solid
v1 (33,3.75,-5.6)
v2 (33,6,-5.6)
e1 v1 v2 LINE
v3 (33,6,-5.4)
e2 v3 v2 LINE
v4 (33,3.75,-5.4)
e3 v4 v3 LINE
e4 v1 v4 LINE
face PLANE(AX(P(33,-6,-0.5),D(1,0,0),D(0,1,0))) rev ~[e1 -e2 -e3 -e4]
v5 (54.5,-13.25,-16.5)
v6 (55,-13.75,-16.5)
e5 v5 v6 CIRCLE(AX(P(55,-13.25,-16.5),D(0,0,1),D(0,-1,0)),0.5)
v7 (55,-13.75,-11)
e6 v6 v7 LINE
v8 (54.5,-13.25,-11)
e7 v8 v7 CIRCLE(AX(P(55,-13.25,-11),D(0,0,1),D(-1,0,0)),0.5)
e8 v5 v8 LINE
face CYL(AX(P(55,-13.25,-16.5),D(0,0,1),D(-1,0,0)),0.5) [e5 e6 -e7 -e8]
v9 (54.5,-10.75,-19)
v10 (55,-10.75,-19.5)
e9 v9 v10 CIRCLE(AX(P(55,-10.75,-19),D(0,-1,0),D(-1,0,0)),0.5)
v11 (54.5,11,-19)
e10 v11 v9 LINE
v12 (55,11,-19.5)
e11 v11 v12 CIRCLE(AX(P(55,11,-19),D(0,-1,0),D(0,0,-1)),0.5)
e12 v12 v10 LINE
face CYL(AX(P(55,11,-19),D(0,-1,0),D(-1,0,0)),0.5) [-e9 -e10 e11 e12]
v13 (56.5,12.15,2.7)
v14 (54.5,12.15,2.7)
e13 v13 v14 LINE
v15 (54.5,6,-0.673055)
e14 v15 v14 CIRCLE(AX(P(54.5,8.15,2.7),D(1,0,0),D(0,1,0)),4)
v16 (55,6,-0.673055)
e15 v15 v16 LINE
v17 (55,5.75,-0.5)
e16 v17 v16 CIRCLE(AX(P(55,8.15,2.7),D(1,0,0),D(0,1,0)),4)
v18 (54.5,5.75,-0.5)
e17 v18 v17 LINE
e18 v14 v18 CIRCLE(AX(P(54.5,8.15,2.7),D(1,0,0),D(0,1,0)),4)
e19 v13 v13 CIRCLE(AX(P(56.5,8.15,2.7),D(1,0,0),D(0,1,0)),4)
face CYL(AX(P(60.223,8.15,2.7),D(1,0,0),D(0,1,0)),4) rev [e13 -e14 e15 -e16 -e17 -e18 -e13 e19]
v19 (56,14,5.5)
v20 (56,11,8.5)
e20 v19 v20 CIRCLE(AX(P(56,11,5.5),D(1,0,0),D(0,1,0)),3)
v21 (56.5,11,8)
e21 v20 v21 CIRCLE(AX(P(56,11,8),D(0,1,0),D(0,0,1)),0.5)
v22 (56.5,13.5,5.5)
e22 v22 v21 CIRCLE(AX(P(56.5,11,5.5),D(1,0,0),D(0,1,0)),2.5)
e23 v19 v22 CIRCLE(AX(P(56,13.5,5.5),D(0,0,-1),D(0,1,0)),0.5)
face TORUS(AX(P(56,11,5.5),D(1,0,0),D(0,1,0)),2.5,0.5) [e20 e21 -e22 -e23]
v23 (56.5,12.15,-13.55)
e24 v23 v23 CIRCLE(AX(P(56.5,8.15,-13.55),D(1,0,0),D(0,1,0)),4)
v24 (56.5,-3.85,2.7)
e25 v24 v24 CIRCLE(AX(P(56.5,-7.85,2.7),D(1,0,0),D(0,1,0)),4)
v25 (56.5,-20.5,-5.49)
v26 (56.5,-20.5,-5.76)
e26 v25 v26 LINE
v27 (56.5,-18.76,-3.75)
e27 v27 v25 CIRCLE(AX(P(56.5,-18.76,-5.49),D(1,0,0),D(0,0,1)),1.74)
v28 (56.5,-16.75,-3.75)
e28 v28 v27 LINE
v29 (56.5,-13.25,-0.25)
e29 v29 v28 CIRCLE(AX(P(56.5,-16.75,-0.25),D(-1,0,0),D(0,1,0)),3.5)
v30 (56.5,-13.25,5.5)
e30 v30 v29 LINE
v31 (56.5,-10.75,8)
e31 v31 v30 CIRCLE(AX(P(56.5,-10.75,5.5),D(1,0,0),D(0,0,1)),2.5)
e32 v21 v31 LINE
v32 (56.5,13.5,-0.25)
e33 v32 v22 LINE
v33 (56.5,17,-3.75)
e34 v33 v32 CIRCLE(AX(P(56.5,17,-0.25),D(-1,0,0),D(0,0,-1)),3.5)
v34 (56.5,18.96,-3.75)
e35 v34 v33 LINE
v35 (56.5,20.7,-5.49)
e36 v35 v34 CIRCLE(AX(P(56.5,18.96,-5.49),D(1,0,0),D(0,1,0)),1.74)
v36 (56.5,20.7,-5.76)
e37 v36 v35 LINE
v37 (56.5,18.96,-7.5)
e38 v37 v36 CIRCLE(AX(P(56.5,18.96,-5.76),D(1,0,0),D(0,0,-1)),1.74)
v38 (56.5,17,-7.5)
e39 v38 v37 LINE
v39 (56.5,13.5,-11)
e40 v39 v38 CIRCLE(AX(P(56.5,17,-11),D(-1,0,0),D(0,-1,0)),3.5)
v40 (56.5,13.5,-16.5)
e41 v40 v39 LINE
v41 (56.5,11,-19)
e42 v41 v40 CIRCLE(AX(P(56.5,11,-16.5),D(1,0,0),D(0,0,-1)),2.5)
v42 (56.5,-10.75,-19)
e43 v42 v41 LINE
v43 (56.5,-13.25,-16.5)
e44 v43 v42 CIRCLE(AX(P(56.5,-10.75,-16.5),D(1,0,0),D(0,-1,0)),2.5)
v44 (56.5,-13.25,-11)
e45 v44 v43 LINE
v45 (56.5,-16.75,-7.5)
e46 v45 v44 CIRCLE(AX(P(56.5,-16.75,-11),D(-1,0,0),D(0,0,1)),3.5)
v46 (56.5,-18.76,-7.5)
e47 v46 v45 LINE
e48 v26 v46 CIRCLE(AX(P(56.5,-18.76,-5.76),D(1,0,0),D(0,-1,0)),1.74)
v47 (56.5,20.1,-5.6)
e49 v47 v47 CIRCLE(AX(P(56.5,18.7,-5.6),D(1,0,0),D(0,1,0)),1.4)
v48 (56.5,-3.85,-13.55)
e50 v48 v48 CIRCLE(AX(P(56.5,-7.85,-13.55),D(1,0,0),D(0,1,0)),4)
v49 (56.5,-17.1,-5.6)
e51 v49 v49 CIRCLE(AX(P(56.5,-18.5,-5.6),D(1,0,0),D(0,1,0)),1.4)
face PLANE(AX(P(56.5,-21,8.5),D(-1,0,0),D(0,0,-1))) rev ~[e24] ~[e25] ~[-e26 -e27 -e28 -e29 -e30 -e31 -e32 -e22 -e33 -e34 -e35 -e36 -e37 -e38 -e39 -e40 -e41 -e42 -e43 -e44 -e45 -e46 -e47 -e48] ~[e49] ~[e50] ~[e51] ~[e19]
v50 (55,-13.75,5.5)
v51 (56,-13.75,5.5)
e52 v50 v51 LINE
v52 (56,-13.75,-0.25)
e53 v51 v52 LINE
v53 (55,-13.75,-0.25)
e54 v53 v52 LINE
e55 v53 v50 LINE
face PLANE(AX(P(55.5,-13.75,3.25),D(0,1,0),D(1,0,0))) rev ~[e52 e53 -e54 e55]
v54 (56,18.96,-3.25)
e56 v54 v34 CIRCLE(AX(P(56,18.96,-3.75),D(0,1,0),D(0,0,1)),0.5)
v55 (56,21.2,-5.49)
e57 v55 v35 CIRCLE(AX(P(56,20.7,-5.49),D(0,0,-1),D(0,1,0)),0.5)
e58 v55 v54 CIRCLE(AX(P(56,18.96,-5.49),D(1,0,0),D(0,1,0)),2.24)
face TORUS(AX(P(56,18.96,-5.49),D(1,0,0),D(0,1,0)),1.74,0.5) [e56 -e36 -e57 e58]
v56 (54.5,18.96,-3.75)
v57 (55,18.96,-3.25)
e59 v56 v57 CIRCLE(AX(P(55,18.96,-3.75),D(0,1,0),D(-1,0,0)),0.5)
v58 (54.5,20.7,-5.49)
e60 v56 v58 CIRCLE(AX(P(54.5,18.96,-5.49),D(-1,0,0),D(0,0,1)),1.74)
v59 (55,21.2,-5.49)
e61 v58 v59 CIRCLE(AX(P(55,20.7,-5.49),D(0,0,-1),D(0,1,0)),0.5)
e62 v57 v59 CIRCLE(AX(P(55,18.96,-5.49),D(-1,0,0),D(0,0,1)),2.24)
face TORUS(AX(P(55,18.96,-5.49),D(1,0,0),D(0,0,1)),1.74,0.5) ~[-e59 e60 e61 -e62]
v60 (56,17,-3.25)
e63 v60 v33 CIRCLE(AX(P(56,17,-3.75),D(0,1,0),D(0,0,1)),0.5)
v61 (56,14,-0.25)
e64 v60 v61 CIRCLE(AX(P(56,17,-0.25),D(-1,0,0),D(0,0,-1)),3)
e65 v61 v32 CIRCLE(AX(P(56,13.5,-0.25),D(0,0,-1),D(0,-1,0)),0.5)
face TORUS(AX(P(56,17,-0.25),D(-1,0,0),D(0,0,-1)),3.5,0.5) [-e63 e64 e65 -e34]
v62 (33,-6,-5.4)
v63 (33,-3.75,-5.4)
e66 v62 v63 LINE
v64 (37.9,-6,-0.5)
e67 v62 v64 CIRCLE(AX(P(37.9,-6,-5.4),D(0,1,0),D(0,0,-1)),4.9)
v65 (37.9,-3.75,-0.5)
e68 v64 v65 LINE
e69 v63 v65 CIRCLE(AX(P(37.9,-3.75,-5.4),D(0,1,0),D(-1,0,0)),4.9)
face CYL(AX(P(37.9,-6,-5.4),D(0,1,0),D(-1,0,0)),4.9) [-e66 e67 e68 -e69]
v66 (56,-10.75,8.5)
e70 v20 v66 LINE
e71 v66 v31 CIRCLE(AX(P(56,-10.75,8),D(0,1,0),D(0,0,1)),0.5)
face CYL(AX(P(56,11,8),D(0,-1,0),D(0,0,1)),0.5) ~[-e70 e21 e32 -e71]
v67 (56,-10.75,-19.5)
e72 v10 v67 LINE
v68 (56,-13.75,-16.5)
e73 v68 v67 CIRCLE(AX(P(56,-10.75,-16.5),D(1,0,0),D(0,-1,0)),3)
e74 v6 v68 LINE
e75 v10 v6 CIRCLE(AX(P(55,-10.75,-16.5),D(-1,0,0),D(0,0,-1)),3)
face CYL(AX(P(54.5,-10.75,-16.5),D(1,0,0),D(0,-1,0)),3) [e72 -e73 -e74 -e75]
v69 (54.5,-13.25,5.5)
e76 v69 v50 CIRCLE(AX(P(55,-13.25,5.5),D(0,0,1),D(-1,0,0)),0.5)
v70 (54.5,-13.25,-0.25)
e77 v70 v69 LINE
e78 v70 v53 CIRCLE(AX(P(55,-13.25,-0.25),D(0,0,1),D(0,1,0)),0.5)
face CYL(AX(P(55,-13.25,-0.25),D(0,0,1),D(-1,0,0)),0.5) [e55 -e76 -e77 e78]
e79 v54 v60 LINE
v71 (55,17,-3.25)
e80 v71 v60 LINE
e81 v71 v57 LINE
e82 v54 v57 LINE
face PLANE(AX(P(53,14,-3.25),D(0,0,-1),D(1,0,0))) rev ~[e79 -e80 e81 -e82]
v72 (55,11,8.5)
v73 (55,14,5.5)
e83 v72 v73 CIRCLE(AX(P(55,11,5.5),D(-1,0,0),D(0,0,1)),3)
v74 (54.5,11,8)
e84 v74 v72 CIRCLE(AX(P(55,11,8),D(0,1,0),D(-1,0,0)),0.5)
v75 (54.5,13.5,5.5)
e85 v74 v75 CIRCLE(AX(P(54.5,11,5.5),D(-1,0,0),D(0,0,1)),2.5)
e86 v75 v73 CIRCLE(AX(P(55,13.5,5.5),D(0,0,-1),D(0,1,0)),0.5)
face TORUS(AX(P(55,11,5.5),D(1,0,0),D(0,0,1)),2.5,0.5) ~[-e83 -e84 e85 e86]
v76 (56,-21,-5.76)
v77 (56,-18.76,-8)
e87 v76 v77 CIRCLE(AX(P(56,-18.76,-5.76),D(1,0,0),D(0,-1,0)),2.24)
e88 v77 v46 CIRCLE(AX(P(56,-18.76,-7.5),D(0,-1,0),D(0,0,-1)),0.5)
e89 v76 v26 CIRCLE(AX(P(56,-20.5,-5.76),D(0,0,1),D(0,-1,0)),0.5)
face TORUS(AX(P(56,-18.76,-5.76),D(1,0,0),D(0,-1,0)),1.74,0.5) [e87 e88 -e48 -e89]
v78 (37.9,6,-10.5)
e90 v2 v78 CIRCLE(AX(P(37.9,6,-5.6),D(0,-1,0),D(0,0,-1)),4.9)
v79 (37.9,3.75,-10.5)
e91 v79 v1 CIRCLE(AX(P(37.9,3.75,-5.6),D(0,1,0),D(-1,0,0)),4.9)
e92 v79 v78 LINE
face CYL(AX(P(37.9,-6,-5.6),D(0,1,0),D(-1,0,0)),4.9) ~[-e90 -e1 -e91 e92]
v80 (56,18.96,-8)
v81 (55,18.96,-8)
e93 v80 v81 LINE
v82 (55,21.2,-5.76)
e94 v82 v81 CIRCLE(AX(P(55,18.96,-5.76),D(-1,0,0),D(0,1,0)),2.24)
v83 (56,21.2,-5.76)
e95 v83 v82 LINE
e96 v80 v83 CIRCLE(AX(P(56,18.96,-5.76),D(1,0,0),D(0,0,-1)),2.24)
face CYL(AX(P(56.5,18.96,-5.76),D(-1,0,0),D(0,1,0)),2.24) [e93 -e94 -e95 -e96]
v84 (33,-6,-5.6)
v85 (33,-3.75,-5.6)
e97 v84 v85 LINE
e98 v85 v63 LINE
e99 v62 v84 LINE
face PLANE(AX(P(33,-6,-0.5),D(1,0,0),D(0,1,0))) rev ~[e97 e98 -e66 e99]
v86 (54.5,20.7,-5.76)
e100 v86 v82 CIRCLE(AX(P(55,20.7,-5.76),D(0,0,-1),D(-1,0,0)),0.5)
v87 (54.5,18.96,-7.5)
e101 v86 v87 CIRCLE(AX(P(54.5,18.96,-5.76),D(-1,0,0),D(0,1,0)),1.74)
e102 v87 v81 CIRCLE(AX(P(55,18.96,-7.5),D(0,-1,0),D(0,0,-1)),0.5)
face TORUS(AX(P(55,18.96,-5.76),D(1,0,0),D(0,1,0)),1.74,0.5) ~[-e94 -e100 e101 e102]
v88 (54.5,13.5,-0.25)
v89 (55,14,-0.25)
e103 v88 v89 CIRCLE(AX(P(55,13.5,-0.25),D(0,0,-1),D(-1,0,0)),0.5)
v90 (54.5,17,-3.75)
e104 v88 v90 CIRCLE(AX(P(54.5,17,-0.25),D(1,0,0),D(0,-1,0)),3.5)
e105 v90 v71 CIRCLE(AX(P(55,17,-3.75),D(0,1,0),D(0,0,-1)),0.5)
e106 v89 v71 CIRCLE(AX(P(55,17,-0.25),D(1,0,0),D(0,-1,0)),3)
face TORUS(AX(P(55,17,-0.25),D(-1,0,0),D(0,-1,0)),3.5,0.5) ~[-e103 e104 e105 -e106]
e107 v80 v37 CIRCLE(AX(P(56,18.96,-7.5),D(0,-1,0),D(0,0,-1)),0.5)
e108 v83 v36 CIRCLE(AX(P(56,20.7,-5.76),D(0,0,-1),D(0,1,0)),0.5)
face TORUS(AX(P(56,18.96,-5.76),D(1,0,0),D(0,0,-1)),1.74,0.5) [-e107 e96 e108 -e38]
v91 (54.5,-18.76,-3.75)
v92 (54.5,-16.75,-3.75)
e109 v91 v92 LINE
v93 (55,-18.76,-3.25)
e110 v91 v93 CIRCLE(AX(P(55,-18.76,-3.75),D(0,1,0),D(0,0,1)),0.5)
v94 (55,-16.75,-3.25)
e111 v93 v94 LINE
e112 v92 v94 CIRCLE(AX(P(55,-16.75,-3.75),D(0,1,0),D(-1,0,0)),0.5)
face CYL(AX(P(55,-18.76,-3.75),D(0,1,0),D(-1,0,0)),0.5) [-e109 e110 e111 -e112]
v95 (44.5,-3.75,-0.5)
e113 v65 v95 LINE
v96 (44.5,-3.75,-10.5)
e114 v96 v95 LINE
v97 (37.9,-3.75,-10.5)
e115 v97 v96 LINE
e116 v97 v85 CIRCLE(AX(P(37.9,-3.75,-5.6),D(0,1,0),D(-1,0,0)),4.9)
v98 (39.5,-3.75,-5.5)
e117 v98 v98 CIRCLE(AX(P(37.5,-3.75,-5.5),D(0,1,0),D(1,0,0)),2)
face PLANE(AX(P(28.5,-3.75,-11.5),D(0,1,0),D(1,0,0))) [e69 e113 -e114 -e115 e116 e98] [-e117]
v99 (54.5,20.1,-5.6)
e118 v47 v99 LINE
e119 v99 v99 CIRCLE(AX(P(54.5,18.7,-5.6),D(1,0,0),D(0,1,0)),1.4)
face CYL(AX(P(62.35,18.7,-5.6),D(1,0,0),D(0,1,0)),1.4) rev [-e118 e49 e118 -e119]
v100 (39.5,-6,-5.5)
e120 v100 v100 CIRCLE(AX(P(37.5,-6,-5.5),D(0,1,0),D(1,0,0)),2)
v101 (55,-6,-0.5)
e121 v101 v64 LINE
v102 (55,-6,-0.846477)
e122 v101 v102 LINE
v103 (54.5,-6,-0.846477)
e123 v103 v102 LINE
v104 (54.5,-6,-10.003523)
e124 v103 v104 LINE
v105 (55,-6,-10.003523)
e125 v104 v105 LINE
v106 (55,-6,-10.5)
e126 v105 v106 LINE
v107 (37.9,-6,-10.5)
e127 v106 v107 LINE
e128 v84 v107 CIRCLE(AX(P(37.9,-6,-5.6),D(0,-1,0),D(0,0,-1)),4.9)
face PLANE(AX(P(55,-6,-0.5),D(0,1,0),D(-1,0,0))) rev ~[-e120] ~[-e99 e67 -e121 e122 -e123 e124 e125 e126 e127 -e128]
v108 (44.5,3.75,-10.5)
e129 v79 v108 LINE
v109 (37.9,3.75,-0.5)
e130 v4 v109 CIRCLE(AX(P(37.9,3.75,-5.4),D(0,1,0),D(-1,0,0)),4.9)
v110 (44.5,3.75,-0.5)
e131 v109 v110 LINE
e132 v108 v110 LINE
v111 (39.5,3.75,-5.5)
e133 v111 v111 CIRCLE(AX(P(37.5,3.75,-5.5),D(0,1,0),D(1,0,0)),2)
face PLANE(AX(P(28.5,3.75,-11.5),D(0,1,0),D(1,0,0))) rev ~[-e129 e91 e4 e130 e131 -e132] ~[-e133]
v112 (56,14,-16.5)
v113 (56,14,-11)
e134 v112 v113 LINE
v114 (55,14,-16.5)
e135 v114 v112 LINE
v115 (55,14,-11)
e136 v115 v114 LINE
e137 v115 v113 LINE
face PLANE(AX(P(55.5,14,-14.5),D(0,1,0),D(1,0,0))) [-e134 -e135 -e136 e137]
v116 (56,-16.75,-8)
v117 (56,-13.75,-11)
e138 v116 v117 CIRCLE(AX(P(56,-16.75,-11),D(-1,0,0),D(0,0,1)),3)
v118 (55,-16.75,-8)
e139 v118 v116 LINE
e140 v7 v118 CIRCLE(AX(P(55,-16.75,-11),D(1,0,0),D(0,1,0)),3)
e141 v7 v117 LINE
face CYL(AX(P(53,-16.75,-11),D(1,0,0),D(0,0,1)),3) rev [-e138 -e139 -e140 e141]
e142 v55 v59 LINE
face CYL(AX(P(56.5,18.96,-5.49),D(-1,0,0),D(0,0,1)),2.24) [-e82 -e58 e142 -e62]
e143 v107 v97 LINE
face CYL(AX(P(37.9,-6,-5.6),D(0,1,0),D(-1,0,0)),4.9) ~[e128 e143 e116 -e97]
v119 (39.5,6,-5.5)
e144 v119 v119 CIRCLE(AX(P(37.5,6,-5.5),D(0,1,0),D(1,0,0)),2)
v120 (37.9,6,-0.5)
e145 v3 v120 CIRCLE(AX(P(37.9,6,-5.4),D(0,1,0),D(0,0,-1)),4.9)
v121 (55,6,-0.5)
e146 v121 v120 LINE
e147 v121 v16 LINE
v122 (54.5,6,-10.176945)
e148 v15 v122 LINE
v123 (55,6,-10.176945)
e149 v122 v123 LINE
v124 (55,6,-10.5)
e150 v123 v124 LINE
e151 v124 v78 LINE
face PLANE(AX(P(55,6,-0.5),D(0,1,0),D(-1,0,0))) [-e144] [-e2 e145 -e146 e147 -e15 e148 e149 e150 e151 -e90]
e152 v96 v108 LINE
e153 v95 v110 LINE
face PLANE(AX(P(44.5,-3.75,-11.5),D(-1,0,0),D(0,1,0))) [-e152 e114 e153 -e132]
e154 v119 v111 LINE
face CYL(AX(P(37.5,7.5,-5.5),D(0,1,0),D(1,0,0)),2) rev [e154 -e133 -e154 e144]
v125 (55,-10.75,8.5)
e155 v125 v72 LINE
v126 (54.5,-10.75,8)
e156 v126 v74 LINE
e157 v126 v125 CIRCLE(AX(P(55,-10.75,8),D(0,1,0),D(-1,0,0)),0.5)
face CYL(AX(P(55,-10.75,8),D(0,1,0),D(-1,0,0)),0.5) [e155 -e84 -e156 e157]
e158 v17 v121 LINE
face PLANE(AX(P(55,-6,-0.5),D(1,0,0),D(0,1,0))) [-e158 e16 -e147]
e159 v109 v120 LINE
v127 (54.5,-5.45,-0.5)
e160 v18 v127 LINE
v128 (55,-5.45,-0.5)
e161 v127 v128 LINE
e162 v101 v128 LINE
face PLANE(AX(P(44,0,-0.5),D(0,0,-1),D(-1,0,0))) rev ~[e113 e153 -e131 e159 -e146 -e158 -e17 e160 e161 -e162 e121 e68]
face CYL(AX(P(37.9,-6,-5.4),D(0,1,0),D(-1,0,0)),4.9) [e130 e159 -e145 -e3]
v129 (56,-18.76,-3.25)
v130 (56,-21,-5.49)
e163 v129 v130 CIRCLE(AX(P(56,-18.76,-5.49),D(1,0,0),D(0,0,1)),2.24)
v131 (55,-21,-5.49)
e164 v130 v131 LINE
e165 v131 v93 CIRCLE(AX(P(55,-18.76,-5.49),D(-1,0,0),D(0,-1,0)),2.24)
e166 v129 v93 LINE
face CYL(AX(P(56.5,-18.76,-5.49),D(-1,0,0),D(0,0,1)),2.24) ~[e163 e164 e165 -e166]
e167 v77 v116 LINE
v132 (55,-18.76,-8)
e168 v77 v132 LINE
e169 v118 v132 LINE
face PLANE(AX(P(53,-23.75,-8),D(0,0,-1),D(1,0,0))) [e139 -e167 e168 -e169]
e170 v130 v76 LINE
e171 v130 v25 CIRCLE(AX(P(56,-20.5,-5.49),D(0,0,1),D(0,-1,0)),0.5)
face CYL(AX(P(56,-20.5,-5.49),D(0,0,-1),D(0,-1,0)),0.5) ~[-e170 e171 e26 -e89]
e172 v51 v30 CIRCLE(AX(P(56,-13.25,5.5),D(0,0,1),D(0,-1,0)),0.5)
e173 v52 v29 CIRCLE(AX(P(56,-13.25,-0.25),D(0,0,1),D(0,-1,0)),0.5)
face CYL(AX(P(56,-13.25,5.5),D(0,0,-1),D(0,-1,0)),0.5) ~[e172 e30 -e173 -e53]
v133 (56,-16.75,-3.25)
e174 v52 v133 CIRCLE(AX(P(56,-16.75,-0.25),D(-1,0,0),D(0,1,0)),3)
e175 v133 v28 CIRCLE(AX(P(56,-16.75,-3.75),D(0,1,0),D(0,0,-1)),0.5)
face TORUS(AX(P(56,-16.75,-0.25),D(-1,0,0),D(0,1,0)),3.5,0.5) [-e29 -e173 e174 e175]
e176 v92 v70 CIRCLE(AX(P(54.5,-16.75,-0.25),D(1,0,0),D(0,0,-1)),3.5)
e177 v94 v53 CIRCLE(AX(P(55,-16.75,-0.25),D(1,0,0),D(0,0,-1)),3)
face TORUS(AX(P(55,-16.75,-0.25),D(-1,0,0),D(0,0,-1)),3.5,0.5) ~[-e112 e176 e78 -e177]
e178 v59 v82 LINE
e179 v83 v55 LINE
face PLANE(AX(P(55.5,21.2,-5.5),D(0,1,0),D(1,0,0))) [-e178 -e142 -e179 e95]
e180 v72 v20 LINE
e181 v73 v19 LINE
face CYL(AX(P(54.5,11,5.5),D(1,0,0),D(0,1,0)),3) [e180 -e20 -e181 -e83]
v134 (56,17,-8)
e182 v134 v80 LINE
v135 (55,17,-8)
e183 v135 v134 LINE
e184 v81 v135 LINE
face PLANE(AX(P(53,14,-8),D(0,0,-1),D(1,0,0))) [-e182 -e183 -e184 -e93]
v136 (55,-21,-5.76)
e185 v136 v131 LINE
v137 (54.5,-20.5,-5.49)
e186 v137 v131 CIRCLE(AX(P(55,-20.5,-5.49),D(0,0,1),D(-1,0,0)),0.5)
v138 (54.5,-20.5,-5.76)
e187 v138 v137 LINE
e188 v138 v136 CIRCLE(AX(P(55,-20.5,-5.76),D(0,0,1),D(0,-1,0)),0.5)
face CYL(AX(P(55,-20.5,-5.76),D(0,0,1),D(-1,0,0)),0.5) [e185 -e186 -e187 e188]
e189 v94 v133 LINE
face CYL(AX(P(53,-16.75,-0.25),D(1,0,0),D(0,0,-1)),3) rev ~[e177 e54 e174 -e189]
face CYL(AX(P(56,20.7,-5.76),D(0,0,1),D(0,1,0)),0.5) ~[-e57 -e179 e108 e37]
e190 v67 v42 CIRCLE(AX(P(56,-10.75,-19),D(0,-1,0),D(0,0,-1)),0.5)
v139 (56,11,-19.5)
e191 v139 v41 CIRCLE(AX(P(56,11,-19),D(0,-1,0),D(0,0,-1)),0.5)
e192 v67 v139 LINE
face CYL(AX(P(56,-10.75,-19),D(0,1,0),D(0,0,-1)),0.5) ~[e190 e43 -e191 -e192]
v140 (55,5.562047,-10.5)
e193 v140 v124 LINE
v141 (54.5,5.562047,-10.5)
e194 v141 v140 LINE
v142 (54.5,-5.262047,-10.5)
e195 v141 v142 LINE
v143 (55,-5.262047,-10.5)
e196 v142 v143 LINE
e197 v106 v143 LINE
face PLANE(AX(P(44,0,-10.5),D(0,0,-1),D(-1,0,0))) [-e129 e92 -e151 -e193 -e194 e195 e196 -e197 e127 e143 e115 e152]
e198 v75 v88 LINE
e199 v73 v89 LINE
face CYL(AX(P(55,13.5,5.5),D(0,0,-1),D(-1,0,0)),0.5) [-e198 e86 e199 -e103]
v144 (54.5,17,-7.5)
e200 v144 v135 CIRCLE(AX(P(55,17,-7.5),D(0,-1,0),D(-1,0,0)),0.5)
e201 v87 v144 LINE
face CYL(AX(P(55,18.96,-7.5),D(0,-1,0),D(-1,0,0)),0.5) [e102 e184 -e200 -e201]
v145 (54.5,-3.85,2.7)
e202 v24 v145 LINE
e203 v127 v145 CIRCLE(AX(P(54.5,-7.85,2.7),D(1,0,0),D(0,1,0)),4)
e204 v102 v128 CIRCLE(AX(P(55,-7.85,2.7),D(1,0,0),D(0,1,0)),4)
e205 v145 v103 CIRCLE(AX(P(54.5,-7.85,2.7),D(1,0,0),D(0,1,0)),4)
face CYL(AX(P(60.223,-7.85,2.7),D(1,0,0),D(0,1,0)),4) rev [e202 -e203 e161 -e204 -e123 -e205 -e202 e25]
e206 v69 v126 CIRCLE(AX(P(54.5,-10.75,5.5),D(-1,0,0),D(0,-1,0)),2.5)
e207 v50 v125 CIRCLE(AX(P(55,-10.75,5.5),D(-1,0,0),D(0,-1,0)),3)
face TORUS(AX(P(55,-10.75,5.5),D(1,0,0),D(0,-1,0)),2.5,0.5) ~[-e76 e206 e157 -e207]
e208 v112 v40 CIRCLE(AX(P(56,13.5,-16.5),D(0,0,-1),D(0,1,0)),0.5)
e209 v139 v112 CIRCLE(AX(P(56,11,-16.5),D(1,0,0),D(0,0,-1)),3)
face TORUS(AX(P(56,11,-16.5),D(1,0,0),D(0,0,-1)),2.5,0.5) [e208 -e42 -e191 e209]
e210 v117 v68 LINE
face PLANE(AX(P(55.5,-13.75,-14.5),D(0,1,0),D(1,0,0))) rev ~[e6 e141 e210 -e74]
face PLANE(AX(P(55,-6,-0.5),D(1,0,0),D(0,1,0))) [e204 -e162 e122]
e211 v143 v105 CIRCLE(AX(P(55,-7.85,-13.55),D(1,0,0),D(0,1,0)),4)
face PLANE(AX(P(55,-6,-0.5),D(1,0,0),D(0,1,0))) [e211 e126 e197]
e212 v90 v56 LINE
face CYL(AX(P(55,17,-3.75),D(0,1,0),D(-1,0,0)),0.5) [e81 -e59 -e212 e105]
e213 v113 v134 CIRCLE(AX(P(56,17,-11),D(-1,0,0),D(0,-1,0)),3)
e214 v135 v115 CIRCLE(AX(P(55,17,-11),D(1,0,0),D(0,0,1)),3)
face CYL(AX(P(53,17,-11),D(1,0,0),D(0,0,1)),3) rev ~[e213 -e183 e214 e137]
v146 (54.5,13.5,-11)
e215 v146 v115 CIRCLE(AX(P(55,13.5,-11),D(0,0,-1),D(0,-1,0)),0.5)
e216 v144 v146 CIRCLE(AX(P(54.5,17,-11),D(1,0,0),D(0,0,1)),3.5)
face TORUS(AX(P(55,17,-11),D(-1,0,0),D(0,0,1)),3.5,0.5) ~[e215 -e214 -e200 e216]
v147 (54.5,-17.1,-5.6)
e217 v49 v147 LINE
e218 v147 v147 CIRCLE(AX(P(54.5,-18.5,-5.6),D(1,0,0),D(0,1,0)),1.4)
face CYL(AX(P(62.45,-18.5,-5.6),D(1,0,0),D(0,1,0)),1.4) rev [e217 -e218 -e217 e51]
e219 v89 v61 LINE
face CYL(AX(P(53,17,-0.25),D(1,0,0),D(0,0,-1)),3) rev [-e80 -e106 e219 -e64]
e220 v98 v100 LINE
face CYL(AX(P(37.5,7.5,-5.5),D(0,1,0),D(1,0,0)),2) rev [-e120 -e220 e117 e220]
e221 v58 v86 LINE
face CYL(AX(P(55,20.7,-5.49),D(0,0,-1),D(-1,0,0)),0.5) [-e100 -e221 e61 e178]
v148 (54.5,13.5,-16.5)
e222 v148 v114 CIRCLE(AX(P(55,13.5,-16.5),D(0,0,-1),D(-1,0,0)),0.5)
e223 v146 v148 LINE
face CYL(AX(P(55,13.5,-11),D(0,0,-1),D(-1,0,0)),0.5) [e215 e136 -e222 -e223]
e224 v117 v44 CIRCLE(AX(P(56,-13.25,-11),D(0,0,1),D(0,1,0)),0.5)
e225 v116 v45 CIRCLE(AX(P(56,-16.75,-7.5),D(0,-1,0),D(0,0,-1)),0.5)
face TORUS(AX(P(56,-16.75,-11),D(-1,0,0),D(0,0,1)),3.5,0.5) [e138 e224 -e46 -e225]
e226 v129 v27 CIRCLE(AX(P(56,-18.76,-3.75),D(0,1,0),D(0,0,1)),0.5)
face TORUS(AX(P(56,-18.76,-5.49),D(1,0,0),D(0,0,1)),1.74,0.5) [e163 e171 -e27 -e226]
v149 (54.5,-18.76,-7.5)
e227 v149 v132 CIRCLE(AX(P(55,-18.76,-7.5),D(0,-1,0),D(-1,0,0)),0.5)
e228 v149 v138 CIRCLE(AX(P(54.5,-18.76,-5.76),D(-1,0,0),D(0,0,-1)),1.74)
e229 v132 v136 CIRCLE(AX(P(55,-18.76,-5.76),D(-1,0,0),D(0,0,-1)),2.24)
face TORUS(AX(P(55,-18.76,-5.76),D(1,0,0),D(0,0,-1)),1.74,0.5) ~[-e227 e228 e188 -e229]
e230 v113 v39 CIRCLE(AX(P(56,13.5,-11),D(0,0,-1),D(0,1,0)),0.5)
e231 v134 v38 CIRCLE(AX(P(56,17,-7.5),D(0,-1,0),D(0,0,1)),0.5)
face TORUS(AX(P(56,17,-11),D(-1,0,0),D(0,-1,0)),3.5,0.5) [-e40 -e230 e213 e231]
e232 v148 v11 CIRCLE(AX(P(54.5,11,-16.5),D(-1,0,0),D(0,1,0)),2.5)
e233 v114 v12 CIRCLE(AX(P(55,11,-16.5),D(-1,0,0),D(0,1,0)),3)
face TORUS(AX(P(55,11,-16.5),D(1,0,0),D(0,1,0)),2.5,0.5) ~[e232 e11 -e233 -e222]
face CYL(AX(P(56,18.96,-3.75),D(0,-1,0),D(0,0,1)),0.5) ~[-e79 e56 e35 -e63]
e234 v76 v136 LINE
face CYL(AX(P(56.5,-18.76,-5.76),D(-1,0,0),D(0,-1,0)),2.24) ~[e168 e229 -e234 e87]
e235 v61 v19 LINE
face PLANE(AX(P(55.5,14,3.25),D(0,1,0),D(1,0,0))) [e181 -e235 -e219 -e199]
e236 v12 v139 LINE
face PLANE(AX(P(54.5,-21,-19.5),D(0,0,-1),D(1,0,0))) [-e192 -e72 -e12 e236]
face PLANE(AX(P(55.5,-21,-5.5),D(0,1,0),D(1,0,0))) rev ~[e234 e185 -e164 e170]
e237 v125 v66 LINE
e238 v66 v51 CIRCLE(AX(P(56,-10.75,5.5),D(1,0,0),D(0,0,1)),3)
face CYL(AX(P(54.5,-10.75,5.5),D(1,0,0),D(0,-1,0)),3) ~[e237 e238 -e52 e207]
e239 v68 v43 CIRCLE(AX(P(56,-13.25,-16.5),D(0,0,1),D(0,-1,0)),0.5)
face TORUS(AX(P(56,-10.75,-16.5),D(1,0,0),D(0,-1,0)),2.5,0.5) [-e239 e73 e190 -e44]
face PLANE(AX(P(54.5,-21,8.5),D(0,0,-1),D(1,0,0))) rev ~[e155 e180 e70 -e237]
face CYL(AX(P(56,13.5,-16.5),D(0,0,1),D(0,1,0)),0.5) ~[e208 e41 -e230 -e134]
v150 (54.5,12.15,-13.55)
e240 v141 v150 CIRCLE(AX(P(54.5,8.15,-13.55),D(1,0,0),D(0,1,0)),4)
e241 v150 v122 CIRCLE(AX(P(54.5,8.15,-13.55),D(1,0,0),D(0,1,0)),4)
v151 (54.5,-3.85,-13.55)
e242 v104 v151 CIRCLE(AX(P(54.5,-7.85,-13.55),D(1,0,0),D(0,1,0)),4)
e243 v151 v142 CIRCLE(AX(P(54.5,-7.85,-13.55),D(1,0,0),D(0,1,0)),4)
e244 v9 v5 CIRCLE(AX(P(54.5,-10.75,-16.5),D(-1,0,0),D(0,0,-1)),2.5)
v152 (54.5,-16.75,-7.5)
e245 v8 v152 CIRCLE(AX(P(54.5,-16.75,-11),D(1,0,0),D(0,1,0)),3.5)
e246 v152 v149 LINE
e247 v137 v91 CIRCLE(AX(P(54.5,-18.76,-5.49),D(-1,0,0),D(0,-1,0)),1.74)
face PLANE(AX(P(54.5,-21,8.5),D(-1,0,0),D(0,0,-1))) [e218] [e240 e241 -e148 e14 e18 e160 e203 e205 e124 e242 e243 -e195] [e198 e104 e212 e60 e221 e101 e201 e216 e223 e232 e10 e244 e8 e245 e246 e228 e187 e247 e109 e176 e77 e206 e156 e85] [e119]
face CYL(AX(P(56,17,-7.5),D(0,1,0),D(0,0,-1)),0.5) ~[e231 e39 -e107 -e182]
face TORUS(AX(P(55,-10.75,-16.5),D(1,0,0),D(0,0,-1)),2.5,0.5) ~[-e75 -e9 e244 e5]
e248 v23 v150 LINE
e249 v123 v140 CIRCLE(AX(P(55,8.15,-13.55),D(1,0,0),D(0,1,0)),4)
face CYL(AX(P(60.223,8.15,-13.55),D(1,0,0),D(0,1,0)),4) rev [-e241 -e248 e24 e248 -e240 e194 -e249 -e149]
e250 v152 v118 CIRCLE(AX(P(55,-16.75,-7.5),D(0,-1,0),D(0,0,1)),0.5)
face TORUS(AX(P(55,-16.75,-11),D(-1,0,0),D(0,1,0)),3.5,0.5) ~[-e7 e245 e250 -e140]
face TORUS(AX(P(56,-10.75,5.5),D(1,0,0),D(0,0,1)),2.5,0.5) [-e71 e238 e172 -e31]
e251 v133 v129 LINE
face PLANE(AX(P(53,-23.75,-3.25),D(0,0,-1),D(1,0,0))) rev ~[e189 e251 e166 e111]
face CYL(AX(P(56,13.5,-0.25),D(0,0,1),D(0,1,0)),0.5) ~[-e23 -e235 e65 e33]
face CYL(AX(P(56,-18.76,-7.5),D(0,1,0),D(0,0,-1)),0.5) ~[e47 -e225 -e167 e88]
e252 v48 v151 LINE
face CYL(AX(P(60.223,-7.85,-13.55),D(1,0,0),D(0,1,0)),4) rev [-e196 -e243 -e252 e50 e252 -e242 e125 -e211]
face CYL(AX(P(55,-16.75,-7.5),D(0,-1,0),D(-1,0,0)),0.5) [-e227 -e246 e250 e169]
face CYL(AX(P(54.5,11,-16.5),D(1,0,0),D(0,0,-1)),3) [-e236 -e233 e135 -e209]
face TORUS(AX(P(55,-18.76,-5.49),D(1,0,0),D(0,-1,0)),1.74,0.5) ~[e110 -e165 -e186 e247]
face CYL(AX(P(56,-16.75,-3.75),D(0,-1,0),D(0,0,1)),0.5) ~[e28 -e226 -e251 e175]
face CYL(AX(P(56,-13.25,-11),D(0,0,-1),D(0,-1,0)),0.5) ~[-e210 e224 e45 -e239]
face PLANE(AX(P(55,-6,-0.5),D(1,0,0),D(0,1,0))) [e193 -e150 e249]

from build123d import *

# Parameters (mm, degrees)
BOX162_W                  = 16
BOX162_H                  = 7.5
BOX162_DEPTH              = 12
CYLINDER240_R             = 2
CYLINDER240_DEPTH         = 15
BOX163_W                  = 22
BOX163_H                  = 12
BOX163_DEPTH              = 10
FILLET099_R               = 4.9
FILLET099_PLACEMENT_ANGLE = 180
CYLINDER234_R             = 4
CYLINDER234_DEPTH         = 10
CYLINDER236_R             = 4
CYLINDER236_DEPTH         = 10
CYLINDER237_R             = 4
CYLINDER237_DEPTH         = 10
CYLINDER020_R             = 4
CYLINDER020_DEPTH         = 10
CYLINDER019_R             = 1.4
CYLINDER019_DEPTH         = 10
CYLINDER235_R             = 1.4
CYLINDER235_DEPTH         = 10
BOX155_W                  = 5
BOX155_H                  = 13
BOX155_DEPTH              = 10
FILLET009_R               = 3
BOX157_W                  = 5
BOX157_H                  = 13
BOX157_DEPTH              = 10
FILLET007_R               = 3
BOX156_W                  = 5
BOX156_H                  = 13
BOX156_DEPTH              = 10
FILLET008_R               = 3
BOX154_W                  = 5
BOX154_H                  = 13
BOX154_DEPTH              = 10
FILLET004_R               = 3
BOX153_W                  = 2
BOX153_H                  = 28
BOX153_DEPTH              = 42.2
FILLET010_R               = 3
FILLET011_R               = 2.24
FILLET012_R               = 2.24
FILLET013_R               = 0.5
FILLET096_R               = 0.5
CUT006_PLACEMENT_ANGLE    = 90


with BuildPart() as w_rfel151:
    # Box162 → Box162 (new body)
    with BuildSketch(Plane(origin=(28.5, -3.75, -11.5), x_dir=(1, 0, 0), z_dir=(0, 0, 1))):
        with Locations((8, 3.75)):
            Rectangle(BOX162_W, BOX162_H)
    extrude(amount=BOX162_DEPTH)


with BuildPart() as fusion160:
    # Cylinder240 → Cylinder240 (new body)
    with BuildSketch(Plane(origin=(37.5, 7.5, -5.5), x_dir=(1, 0, 0), z_dir=(0, -1, 0))):
        Circle(CYLINDER240_R)
    extrude(amount=CYLINDER240_DEPTH)

    # Fusion160: union Würfel151
    add(w_rfel151.part)


with BuildPart() as cut110:
    # Box163 → Box163 (new body)
    with BuildSketch(Plane(origin=(27, -3.5, -10.5), x_dir=(1, 0, 0), z_dir=(0, 0, 1))):
        with Locations((11, 6)):
            Rectangle(BOX163_W, BOX163_H)
    extrude(amount=BOX163_DEPTH)

    # Fillet099
    fillet099_edges = [cut110.edges().sort_by_distance(p)[0] for p in [
        (49, 2.5, -0.5),
        (49, 2.5, -10.5),
    ]]
    fillet(fillet099_edges, radius=FILLET099_R)


with BuildPart() as cut110_1:
    # Fillet099 placement: moved
    add(cut110.part.moved(Location((82, -2.5, -11))).rotate(Axis((82, -2.5, -11), (0, 1, 0)), FILLET099_PLACEMENT_ANGLE))

    # Cut110: cut Fusion160
    add(fusion160.part, mode=Mode.SUBTRACT)


with BuildPart() as zylinder234:
    # Cylinder234 → Cylinder234 (new body)
    with BuildSketch(Plane(origin=(5.723, -13.7, 22.15), x_dir=(0, 0, 1), z_dir=(-1, 0, 0))):
        Circle(CYLINDER234_R)
    extrude(amount=CYLINDER234_DEPTH)


with BuildPart() as zylinder238:
    # Cylinder236 → Cylinder236 (new body)
    with BuildSketch(Plane(origin=(5.723, 2.55, 6.15), x_dir=(0, 0, 1), z_dir=(-1, 0, 0))):
        Circle(CYLINDER236_R)
    extrude(amount=CYLINDER236_DEPTH)


with BuildPart() as zylinder239:
    # Cylinder237 → Cylinder237 (new body)
    with BuildSketch(Plane(origin=(5.723, -13.7, 6.15), x_dir=(0, 0, 1), z_dir=(-1, 0, 0))):
        Circle(CYLINDER237_R)
    extrude(amount=CYLINDER237_DEPTH)


with BuildPart() as fusion156:
    # Cylinder020 → Cylinder020 (new body)
    with BuildSketch(Plane(origin=(5.723, 2.55, 22.15), x_dir=(0, 0, 1), z_dir=(-1, 0, 0))):
        Circle(CYLINDER020_R)
    extrude(amount=CYLINDER020_DEPTH)

    # Fusion156: union Zylinder234, Zylinder238, Zylinder239
    add(zylinder234.part)
    add(zylinder238.part)
    add(zylinder239.part)


with BuildPart() as zylinder237:
    # Cylinder019 → Cylinder019 (new body)
    with BuildSketch(Plane(origin=(7.95, -5.4, -4.5), x_dir=(0, 0, 1), z_dir=(-1, 0, 0))):
        Circle(CYLINDER019_R)
    extrude(amount=CYLINDER019_DEPTH)


with BuildPart() as fusion154:
    # Cylinder235 → Cylinder235 (new body)
    with BuildSketch(Plane(origin=(7.85, -5.4, 32.7), x_dir=(0, 0, 1), z_dir=(-1, 0, 0))):
        Circle(CYLINDER235_R)
    extrude(amount=CYLINDER235_DEPTH)

    # Fusion154: union Zylinder237
    add(zylinder237.part)


with BuildPart() as fillet009:
    # Box155 → Box155 (new body)
    with BuildSketch(Plane(origin=(-1.5, -20.75, 28), x_dir=(1, 0, 0), z_dir=(0, 0, 1))):
        with Locations((2.5, 6.5)):
            Rectangle(BOX155_W, BOX155_H)
    extrude(amount=BOX155_DEPTH)

    # Fillet009
    fillet009_edges = [fillet009.edges().sort_by_distance(p)[0] for p in [
        (1, -7.75, 28),
    ]]
    fillet(fillet009_edges, radius=FILLET009_R)


with BuildPart() as fillet007:
    # Box157 → Box157 (new body)
    with BuildSketch(Plane(origin=(-1.5, -3, -9.75), x_dir=(1, 0, 0), z_dir=(0, 0, 1))):
        with Locations((2.5, 6.5)):
            Rectangle(BOX157_W, BOX157_H)
    extrude(amount=BOX157_DEPTH)

    # Fillet007
    fillet007_edges = [fillet007.edges().sort_by_distance(p)[0] for p in [
        (1, -3, 0.25),
    ]]
    fillet(fillet007_edges, radius=FILLET007_R)


with BuildPart() as fillet008:
    # Box156 → Box156 (new body)
    with BuildSketch(Plane(origin=(-1.5, -20.75, -9.75), x_dir=(1, 0, 0), z_dir=(0, 0, 1))):
        with Locations((2.5, 6.5)):
            Rectangle(BOX156_W, BOX156_H)
    extrude(amount=BOX156_DEPTH)

    # Fillet008
    fillet008_edges = [fillet008.edges().sort_by_distance(p)[0] for p in [
        (1, -7.75, 0.25),
    ]]
    fillet(fillet008_edges, radius=FILLET008_R)


with BuildPart() as fusion153:
    # Box154 → Box154 (new body)
    with BuildSketch(Plane(origin=(-1.5, -3, 28), x_dir=(1, 0, 0), z_dir=(0, 0, 1))):
        with Locations((2.5, 6.5)):
            Rectangle(BOX154_W, BOX154_H)
    extrude(amount=BOX154_DEPTH)

    # Fillet004
    fillet004_edges = [fusion153.edges().sort_by_distance(p)[0] for p in [
        (1, -3, 28),
    ]]
    fillet(fillet004_edges, radius=FILLET004_R)

    # Fusion153: union Fillet009, Fillet007, Fillet008
    add(fillet009.part)
    add(fillet007.part)
    add(fillet008.part)


with BuildPart() as fusion161:
    # Box153 → Box153 (new body)
    with BuildSketch(Plane(origin=(0, -19.5, -7), x_dir=(1, 0, 0), z_dir=(0, 0, 1))):
        with Locations((1, 14)):
            Rectangle(BOX153_W, BOX153_H)
    extrude(amount=BOX153_DEPTH)

    # Cut004: cut Fusion153
    add(fusion153.part, mode=Mode.SUBTRACT)

    # Fillet010
    fillet010_edges = [fusion161.edges().sort_by_distance(p)[0] for p in [
        (1, -19.5, 28),
        (1, -19.5, 0.25),
        (1, 8.5, 28),
        (1, 8.5, 0.25),
    ]]
    fillet(fillet010_edges, radius=FILLET010_R)

    # Fillet011
    fillet011_edges = [fusion161.edges().sort_by_distance(p)[0] for p in [
        (1, -7.75, 35.2),
        (1, -3, 35.2),
    ]]
    fillet(fillet011_edges, radius=FILLET011_R)

    # Fillet012
    fillet012_edges = [fusion161.edges().sort_by_distance(p)[0] for p in [
        (1, -7.75, -7),
        (1, -3, -7),
    ]]
    fillet(fillet012_edges, radius=FILLET012_R)

    # Cut106: cut Fusion154
    add(fusion154.part, mode=Mode.SUBTRACT)

    # Fillet013
    fillet013_edges = [fusion161.edges().sort_by_distance(p)[0] for p in [
        (2, -13.625, 0.25),
        (2, -18.62132, 1.12868),
        (2, -19.5, 14.125),
        (2, -18.62132, 27.12132),
        (2, -13.625, 28),
        (2, -8.62868, 28.87868),
        (2, -7.75, 31.98),
    ]]
    fillet(fillet013_edges, radius=FILLET013_R)

    # Fillet096
    fillet096_edges = [fusion161.edges().sort_by_distance(p)[0] for p in [
        (0, -19.5, 14.125),
    ]]
    fillet(fillet096_edges, radius=FILLET096_R)

    # Cut006: cut Fusion156
    add(fusion156.part, mode=Mode.SUBTRACT)


with BuildPart() as fusion161_1:
    # Cut006 placement: moved
    add(fusion161.part.moved(Location((54.5, -14, -11))).rotate(Axis((54.5, -14, -11), (-1, 0, 0)), CUT006_PLACEMENT_ANGLE))

    # Fusion161: union Cut110
    add(cut110_1.part)


solid = fusion161_1.part
